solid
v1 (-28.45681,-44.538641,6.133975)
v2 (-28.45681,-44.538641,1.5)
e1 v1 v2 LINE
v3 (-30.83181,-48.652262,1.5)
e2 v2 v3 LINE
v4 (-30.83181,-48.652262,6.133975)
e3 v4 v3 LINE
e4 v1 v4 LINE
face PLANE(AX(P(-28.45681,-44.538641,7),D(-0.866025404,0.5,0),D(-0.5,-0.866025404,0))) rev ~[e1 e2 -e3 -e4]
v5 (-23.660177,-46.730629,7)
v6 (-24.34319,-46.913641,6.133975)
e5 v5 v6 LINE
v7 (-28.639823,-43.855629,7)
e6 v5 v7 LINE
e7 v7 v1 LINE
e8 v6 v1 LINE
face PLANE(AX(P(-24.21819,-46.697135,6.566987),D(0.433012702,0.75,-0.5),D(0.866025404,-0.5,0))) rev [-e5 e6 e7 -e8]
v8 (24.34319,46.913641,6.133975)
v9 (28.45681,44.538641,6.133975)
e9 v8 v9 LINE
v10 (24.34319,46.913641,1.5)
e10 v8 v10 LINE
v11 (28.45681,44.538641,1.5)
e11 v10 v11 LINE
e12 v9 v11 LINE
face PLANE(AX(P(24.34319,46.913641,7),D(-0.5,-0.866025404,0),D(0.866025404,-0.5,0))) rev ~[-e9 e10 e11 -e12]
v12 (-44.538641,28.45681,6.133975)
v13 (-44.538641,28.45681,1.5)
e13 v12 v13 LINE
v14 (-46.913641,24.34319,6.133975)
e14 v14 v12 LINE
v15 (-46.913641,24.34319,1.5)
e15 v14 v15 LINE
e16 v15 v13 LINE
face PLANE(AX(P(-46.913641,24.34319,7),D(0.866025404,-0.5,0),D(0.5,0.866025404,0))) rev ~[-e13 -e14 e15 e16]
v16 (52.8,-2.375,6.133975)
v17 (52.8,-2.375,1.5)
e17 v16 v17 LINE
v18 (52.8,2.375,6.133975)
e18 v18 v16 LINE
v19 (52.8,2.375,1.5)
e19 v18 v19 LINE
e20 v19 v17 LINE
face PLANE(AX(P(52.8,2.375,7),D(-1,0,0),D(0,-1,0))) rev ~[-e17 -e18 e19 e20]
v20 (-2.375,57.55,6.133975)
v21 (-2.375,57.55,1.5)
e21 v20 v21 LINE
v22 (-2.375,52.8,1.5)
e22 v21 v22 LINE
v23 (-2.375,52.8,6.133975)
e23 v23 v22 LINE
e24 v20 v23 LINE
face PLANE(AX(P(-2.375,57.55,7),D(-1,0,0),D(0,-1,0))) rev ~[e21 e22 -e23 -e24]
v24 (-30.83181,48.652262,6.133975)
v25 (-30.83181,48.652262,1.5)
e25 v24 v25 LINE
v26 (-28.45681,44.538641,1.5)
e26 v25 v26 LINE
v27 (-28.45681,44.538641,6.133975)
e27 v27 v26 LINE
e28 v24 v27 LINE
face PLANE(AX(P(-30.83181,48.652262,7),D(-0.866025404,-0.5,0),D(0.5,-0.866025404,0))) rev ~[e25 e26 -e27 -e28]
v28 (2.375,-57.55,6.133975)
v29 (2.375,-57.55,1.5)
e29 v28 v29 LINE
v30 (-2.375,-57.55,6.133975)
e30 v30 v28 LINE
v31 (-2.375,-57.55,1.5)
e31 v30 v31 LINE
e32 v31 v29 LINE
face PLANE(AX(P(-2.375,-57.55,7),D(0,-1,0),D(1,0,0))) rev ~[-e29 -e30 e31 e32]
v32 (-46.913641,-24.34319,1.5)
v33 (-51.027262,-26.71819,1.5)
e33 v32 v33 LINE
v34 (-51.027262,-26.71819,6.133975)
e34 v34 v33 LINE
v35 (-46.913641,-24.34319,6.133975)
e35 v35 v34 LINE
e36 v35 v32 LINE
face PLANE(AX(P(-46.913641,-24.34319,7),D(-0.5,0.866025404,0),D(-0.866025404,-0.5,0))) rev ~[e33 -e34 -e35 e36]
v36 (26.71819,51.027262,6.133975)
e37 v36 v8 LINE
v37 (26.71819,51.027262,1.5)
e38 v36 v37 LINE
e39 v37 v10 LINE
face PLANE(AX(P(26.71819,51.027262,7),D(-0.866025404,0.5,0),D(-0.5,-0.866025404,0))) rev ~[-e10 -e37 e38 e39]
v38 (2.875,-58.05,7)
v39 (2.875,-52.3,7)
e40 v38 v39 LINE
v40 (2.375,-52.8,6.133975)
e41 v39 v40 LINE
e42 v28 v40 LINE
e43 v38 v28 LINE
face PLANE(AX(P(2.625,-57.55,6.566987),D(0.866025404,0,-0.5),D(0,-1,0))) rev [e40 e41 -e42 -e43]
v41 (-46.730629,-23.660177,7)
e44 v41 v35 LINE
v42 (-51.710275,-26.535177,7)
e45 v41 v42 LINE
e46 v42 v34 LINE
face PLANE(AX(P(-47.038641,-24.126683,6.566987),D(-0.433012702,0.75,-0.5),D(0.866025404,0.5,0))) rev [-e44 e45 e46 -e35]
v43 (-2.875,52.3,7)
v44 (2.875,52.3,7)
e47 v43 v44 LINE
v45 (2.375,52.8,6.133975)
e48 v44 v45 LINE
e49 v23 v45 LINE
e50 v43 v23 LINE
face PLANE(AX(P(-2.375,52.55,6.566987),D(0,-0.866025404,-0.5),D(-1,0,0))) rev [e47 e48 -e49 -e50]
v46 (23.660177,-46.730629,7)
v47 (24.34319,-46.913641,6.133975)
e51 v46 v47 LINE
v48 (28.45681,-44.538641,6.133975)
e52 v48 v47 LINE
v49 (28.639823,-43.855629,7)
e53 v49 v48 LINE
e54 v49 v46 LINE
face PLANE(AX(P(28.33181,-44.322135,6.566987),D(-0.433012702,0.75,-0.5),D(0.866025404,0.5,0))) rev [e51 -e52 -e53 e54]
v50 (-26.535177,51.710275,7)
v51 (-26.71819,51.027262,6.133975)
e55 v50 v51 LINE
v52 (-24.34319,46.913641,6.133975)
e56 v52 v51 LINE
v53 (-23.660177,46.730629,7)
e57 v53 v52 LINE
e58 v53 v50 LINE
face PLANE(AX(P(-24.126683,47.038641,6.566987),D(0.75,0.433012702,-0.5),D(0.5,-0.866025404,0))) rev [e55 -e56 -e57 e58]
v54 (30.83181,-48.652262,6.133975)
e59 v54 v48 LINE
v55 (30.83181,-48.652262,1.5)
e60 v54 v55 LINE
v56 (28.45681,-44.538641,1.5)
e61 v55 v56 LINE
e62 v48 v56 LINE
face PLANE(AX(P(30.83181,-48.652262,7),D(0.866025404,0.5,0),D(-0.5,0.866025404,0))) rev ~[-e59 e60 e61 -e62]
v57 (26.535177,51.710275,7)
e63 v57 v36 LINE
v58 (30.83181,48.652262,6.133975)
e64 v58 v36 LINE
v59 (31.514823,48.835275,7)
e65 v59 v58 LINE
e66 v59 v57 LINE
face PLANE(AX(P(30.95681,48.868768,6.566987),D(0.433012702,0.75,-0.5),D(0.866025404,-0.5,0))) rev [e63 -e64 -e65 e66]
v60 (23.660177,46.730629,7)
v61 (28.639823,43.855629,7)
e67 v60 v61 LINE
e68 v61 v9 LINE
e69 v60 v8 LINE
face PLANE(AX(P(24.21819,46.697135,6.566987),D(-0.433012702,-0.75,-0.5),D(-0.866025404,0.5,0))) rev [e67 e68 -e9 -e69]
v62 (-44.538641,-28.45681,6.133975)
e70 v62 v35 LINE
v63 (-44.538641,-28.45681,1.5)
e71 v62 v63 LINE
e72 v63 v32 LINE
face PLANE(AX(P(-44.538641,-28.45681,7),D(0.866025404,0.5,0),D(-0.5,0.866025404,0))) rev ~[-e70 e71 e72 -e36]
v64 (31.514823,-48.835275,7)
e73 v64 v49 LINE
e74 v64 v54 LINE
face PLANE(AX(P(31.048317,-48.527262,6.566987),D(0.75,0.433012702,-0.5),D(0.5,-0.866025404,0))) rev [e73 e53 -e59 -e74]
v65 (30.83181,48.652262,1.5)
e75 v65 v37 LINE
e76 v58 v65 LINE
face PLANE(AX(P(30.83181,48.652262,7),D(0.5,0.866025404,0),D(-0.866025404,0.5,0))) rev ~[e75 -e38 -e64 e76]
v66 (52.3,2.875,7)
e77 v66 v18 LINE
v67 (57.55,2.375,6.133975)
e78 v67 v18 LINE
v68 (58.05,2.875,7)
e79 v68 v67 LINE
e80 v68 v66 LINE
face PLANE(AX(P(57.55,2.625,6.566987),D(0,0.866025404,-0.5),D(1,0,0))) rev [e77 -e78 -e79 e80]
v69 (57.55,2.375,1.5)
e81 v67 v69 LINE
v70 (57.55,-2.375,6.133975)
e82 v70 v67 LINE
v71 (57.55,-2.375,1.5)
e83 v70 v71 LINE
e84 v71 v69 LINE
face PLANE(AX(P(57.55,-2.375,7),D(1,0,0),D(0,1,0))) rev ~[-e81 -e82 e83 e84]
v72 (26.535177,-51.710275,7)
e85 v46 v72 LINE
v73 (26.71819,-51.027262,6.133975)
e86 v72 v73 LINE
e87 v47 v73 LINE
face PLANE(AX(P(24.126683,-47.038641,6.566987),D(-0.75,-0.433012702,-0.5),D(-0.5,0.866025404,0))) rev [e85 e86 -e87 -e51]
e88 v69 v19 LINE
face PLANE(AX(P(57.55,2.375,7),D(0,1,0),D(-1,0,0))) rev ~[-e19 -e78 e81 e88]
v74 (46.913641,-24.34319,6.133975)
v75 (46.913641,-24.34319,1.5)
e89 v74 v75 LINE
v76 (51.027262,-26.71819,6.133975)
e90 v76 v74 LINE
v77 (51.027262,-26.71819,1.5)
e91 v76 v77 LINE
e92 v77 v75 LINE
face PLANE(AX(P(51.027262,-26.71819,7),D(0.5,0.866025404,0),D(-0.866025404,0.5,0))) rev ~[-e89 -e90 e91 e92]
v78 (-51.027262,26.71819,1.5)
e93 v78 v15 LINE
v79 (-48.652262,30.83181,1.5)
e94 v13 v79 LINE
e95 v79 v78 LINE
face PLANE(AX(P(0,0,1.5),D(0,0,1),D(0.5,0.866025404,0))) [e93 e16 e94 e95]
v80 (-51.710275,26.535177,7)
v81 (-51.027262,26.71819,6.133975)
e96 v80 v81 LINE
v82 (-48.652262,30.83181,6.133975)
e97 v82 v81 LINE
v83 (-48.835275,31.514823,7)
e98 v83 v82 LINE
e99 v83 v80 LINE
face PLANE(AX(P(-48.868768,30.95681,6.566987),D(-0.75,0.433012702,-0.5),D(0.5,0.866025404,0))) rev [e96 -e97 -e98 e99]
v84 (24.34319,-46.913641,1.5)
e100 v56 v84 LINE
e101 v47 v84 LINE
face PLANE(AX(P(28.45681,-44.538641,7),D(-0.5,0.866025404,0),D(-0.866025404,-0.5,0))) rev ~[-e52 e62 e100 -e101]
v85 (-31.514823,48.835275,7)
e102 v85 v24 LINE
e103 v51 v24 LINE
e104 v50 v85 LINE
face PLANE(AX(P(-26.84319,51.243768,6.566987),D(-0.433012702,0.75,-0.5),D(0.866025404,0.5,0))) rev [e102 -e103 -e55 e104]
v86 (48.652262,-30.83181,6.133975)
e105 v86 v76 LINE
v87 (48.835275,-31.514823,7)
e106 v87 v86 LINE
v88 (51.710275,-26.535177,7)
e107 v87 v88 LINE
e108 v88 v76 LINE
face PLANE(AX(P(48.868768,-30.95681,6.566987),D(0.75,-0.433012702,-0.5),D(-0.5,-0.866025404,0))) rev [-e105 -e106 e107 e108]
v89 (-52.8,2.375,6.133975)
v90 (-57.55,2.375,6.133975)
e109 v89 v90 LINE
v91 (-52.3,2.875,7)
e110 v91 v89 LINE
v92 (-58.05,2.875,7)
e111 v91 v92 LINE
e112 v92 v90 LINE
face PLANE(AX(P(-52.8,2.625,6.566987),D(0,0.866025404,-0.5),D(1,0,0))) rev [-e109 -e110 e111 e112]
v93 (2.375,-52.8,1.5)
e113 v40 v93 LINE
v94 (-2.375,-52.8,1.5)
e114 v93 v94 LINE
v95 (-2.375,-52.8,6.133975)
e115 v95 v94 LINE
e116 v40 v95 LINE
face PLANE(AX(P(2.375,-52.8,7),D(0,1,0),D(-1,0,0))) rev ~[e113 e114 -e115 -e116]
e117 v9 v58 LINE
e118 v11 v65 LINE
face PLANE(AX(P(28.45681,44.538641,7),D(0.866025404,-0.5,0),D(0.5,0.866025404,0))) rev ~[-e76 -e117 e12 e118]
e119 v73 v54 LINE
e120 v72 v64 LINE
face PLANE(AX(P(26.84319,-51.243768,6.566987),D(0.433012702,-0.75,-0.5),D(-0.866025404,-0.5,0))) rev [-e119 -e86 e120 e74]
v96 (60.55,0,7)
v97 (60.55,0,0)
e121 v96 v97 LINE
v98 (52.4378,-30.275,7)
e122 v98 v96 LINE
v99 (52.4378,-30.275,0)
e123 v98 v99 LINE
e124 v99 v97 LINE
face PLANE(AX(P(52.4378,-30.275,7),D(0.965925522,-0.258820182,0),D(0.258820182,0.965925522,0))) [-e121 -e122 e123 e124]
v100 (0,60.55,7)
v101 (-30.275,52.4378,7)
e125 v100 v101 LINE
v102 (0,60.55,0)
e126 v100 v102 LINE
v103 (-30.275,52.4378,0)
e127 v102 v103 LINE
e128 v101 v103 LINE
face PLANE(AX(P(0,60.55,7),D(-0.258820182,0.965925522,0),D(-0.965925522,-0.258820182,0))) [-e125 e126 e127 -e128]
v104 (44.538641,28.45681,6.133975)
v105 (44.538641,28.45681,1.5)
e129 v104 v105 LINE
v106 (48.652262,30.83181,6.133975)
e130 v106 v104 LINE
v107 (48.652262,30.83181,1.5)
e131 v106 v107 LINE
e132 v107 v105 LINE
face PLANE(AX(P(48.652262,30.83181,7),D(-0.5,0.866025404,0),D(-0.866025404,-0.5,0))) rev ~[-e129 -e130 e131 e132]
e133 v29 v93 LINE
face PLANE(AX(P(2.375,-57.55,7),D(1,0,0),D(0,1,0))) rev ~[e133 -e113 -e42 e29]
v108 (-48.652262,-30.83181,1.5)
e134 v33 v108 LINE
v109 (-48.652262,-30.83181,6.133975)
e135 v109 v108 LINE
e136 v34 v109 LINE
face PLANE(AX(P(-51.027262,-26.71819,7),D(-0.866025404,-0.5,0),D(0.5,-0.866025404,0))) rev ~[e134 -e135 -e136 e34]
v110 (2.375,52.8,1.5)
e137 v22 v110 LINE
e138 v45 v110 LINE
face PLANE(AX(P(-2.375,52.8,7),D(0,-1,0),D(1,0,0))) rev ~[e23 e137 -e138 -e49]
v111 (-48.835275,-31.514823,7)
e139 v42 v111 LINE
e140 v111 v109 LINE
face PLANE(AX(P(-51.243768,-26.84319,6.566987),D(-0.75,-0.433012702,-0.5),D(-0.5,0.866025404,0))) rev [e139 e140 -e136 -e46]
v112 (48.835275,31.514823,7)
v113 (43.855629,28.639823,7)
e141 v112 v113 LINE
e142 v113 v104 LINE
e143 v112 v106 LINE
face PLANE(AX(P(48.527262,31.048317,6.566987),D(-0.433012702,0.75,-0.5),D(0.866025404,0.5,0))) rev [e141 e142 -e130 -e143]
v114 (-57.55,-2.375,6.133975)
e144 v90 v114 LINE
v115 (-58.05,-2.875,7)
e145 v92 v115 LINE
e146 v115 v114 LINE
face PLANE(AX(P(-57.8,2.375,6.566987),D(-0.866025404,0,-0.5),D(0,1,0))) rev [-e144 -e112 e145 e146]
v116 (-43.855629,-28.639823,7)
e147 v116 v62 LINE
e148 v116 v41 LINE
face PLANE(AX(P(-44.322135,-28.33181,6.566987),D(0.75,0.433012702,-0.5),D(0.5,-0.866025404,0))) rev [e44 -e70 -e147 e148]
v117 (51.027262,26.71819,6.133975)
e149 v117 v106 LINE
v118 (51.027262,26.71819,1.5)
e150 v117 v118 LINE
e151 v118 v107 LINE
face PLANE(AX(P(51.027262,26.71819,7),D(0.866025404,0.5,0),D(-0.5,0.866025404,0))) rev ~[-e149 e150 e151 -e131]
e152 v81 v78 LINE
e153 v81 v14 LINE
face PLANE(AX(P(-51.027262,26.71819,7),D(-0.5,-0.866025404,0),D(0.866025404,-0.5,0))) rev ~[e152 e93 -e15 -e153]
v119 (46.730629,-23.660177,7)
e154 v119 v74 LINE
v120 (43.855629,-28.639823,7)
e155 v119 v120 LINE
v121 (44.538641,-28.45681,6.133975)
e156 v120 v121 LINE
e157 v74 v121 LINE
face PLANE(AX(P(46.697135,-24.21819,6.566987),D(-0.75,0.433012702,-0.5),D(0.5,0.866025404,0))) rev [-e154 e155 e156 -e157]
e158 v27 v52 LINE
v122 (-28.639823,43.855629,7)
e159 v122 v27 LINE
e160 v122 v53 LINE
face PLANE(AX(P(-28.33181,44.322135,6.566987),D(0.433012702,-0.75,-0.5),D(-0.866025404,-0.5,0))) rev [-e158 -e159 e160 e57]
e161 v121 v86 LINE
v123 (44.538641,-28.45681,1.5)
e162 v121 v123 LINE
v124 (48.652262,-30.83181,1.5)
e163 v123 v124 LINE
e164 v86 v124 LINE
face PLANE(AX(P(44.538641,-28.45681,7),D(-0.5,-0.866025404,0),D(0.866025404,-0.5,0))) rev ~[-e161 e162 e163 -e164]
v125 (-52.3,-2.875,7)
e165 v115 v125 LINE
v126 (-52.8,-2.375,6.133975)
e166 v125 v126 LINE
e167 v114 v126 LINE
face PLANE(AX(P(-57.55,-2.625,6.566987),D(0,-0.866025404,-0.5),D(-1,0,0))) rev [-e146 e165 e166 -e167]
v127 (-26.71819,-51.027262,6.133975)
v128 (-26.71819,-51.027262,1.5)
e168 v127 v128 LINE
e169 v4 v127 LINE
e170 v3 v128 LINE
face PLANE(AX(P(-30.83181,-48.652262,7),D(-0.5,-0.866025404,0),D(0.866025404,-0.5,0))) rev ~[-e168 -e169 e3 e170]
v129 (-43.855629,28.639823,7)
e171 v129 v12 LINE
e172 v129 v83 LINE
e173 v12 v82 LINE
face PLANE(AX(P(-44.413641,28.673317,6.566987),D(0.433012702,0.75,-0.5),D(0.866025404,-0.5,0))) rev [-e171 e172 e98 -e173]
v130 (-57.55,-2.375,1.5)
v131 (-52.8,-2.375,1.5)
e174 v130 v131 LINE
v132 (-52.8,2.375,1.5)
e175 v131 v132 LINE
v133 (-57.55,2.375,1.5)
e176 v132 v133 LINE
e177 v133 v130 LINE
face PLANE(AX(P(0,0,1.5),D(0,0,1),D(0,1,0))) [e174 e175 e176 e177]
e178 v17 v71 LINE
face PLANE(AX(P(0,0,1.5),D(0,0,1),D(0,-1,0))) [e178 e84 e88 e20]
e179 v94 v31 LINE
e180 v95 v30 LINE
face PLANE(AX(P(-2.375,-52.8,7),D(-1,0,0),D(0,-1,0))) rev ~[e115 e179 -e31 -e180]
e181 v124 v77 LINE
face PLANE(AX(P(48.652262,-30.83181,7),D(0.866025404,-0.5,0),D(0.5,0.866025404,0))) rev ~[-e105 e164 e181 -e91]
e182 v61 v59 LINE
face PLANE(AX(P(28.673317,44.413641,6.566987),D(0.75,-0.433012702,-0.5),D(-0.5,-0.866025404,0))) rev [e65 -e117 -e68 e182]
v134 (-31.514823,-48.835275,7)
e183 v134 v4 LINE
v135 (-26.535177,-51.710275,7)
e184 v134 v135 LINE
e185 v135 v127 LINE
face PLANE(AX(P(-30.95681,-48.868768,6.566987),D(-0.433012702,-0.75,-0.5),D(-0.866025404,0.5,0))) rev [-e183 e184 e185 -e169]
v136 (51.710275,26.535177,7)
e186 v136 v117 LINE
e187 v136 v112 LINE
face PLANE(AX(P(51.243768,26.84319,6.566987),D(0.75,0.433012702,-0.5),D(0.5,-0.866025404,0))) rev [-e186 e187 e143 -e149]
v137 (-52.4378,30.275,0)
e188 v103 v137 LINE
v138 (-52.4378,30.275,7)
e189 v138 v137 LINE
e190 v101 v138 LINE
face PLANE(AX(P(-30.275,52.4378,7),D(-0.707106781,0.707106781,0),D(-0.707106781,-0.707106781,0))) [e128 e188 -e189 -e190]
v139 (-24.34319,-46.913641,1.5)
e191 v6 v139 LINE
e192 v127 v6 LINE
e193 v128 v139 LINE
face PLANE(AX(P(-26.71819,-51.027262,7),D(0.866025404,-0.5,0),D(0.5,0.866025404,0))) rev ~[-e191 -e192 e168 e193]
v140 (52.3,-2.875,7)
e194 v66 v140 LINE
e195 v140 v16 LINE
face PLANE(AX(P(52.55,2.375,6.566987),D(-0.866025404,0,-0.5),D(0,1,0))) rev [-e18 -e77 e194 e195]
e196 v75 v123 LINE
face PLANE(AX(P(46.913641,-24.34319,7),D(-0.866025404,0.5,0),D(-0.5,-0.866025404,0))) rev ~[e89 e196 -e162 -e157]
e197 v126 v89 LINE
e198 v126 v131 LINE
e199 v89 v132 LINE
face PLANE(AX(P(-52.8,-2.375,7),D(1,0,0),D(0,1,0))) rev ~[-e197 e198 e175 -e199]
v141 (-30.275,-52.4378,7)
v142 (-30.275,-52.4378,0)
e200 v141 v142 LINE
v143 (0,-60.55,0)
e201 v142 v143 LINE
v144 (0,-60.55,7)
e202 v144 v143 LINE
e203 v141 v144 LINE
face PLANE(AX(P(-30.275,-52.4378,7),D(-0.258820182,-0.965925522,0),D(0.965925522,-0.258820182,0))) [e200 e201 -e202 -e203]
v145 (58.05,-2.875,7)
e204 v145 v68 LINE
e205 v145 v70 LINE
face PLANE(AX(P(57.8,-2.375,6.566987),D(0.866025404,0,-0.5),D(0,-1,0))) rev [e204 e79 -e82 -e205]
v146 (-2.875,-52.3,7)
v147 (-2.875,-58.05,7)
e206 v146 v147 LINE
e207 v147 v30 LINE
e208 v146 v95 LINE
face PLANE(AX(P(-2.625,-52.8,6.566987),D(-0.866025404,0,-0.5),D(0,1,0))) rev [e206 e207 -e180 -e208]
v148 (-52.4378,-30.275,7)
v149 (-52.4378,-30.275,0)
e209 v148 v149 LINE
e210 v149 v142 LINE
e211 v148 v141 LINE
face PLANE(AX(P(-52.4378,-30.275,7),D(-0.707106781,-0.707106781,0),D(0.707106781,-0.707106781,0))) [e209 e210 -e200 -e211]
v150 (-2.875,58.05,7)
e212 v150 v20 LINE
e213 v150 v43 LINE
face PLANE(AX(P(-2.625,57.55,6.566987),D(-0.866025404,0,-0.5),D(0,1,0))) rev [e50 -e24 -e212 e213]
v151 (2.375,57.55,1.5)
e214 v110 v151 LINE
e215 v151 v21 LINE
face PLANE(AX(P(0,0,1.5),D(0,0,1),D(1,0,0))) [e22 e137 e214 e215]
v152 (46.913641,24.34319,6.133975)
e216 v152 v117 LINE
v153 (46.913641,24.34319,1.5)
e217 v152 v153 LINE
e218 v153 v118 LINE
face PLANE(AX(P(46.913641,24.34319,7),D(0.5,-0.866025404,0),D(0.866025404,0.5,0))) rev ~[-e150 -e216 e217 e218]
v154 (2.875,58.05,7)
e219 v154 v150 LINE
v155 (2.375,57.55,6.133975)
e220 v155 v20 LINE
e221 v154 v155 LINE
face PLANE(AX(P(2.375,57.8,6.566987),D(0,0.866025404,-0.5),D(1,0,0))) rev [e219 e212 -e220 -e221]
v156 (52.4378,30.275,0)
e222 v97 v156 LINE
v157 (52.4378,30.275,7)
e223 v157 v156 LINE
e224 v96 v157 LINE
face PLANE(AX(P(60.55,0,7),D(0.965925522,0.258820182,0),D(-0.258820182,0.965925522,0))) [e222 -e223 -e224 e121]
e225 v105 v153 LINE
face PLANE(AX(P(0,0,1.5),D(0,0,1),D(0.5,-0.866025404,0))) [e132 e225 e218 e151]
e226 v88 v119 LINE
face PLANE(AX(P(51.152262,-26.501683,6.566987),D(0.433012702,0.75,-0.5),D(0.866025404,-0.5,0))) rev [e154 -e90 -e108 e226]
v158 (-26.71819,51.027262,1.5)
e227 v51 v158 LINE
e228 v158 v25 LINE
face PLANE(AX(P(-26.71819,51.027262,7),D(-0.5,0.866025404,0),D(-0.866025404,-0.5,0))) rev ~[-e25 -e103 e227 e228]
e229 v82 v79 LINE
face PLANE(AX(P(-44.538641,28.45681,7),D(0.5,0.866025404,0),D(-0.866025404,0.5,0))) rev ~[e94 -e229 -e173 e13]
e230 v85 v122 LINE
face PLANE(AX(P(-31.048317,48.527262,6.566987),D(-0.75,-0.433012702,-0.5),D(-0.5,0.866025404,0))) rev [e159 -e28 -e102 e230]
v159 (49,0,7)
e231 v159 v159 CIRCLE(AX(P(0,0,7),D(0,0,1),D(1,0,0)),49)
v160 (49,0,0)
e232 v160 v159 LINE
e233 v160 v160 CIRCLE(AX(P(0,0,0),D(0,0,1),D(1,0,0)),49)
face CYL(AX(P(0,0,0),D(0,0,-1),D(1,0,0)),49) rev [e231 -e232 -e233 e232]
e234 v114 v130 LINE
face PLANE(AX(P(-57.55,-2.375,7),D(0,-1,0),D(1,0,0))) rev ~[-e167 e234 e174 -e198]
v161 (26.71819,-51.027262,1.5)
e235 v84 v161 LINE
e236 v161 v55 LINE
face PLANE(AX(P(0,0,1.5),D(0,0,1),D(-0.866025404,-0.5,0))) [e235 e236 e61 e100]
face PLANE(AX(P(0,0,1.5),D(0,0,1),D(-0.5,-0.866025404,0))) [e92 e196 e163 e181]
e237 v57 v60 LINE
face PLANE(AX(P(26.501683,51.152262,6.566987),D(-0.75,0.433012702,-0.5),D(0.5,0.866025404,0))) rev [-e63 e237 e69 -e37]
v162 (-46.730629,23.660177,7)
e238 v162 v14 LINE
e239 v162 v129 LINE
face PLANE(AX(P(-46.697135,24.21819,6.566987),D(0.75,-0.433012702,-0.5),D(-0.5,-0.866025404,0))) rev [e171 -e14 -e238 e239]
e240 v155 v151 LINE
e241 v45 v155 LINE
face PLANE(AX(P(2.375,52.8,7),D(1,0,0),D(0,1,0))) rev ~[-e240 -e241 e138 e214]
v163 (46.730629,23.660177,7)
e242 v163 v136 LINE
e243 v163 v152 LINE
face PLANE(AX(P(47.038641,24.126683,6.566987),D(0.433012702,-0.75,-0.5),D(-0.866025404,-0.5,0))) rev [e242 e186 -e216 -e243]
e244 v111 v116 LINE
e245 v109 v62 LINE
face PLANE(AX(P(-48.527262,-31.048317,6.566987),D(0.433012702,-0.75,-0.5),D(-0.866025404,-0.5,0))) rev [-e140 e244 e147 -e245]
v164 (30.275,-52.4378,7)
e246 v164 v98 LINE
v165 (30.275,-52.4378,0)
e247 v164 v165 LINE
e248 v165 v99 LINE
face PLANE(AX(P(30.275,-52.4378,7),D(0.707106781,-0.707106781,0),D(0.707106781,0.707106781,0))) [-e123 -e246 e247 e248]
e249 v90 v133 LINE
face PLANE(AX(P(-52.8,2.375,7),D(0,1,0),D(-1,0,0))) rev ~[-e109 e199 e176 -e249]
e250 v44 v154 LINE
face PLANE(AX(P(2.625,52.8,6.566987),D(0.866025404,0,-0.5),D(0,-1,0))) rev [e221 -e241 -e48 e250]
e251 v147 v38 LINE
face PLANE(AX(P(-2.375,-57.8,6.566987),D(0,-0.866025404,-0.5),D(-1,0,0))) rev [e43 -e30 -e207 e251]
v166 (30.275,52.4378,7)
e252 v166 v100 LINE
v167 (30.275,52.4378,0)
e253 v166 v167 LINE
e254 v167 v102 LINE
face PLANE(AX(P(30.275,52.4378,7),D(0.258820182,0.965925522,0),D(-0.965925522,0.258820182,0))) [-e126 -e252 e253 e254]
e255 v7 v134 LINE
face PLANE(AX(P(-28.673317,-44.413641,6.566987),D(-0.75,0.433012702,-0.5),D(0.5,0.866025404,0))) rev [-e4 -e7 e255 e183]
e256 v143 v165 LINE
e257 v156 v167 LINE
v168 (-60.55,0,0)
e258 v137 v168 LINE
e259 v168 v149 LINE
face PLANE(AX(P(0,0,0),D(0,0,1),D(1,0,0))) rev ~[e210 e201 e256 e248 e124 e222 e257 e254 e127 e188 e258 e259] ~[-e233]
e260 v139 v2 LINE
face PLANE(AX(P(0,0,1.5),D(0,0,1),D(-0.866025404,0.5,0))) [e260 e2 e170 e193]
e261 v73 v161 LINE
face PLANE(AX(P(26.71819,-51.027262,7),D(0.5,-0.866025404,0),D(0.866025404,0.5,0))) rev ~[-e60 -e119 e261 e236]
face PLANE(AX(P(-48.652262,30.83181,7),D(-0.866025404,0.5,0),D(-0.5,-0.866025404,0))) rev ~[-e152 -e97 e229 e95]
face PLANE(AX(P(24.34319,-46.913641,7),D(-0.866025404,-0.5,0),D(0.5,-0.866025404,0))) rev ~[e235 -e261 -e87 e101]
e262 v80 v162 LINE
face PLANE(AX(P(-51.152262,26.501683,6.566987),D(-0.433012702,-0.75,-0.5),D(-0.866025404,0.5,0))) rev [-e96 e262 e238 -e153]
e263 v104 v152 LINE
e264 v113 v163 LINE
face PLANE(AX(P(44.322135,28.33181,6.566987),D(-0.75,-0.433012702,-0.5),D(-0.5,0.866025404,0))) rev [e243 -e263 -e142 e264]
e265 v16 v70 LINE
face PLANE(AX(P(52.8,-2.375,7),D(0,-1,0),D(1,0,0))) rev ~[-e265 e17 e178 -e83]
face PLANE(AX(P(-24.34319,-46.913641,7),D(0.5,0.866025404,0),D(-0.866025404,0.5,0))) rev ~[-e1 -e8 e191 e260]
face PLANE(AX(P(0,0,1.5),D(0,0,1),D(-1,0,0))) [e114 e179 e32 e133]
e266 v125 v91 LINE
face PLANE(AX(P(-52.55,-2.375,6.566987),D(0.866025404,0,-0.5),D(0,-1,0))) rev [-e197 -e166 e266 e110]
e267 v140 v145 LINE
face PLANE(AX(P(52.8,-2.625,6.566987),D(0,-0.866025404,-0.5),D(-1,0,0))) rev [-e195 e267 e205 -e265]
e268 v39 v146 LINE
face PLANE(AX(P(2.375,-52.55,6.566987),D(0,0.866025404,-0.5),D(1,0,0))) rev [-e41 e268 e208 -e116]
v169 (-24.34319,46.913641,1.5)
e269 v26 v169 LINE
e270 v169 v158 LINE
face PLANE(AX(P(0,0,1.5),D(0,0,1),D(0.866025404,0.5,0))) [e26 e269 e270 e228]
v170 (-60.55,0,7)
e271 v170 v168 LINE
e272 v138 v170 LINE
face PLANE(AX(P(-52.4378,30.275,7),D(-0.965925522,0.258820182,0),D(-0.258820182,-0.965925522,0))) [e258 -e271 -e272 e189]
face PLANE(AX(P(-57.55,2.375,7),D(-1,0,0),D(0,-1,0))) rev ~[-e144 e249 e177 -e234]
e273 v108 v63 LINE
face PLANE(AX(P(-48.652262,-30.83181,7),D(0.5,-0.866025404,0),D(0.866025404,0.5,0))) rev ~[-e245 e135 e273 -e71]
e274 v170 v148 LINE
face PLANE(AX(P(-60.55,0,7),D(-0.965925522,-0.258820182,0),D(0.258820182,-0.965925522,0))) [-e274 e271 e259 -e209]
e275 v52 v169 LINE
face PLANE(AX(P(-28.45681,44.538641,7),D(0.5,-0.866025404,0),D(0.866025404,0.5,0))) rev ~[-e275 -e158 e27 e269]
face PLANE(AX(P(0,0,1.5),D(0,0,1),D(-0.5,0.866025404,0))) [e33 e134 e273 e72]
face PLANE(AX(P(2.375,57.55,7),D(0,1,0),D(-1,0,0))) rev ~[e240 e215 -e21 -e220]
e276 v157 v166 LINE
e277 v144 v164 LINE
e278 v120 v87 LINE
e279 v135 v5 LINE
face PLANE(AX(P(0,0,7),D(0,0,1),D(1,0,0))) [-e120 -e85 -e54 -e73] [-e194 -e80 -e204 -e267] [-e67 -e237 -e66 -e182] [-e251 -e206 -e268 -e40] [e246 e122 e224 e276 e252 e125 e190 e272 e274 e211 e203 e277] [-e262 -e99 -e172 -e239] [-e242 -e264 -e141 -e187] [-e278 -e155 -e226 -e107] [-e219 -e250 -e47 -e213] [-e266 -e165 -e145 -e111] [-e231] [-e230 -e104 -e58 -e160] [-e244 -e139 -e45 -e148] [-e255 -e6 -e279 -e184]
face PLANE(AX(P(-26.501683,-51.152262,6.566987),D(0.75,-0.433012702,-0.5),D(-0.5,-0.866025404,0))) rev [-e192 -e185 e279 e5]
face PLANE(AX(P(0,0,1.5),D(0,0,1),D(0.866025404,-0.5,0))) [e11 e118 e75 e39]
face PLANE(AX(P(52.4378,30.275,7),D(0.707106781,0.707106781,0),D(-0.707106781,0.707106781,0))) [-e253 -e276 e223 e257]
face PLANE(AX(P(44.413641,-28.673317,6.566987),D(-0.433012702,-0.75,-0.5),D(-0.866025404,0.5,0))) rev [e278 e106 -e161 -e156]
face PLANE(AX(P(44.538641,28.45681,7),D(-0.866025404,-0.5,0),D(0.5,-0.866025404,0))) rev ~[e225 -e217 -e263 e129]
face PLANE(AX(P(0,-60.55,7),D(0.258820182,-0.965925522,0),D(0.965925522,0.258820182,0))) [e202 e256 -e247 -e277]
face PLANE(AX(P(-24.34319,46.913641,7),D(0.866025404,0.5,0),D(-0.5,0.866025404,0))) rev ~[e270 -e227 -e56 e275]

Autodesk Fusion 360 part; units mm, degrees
sketch "Sketch1" plane through (0, 0, 0) normal (0, 0, 1) x (1, 0, 0)
  circle A0 centre (0, 0) radius 50.8
  circle A1 centre (0, 0) radius 49
  dimension "d1" = 101.6
  dimension "d2" = 1.8
extrude "Extrude1" add sketch "Sketch1" along normal blind 7
sketch "Sketch2" plane through (0, 0, 7) normal (0, 0, 1) x (1, 0, 0)
  circle A0 centre (0, 0) radius 49
  circle A1 centre (0, 0) radius 50.8
  line L0 (-30.275, -52.4378) -> (0, -60.55)
  line L1 (0, -60.55) -> (30.275, -52.4378)
  line L2 (30.275, -52.4378) -> (52.4378, -30.275)
  line L3 (52.4378, -30.275) -> (60.55, 0)
  line L4 (60.55, 0) -> (52.4378, 30.275)
  line L5 (52.4378, 30.275) -> (30.275, 52.4378)
  line L6 (30.275, 52.4378) -> (0, 60.55)
  line L7 (0, 60.55) -> (-30.275, 52.4378)
  line L8 (-30.275, 52.4378) -> (-52.4378, 30.275)
  line L9 (-52.4378, 30.275) -> (-60.55, 0)
  line L10 (-60.55, 0) -> (-52.4378, -30.275)
  line L11 (-52.4378, -30.275) -> (-30.275, -52.4378)
  line L12 (-2.375, 52.8) -> (2.375, 52.8)
  line L13 (2.375, 52.8) -> (2.375, 57.55)
  line L14 (2.375, 57.55) -> (-2.375, 57.55)
  line L15 (-2.375, 57.55) -> (-2.375, 52.8)
  line L16 (-2.375, 52.8) -> (2.375, 57.55) construction
  line L17 (2.375, 52.8) -> (-2.375, 57.55) construction
  point P0 (0, 55.175)
  point P1 (0, 52.8)
  point P2 (0, 50.8)
  dimension "d5" = 4.75
  dimension "d6" = 3
  dimension "d7" = 2
extrude "Extrude2" add sketch "Sketch2" against normal up to surface (7 mm away) contours L0 L1 L2 L3 L4 L5 L6 L7 L8 L9 L10 L11 | L12 L13 L14 L15
extrude "Extrude3" cut sketch "Sketch2" against normal blind 5.5 contours L12 L13 L14 L15
chamfer "Chamfer1" distance 0.5 angle 60 4 edges at (2.375, 55.175, 7) (0, 57.55, 7) (-2.375, 55.175, 7) (0, 52.8, 7) measured on face at (-53.2703, 14.906, 7) measured on face at (-53.2703, 14.906, 7) measured on face at (-53.2703, 14.906, 7) measured on face at (-53.2703, 14.906, 7)
pattern_circular "C-Pattern1" count 12 over 360 about axis through (0, 0, 1.75) along (0, 0, 1) of "Extrude3", "Chamfer1"
